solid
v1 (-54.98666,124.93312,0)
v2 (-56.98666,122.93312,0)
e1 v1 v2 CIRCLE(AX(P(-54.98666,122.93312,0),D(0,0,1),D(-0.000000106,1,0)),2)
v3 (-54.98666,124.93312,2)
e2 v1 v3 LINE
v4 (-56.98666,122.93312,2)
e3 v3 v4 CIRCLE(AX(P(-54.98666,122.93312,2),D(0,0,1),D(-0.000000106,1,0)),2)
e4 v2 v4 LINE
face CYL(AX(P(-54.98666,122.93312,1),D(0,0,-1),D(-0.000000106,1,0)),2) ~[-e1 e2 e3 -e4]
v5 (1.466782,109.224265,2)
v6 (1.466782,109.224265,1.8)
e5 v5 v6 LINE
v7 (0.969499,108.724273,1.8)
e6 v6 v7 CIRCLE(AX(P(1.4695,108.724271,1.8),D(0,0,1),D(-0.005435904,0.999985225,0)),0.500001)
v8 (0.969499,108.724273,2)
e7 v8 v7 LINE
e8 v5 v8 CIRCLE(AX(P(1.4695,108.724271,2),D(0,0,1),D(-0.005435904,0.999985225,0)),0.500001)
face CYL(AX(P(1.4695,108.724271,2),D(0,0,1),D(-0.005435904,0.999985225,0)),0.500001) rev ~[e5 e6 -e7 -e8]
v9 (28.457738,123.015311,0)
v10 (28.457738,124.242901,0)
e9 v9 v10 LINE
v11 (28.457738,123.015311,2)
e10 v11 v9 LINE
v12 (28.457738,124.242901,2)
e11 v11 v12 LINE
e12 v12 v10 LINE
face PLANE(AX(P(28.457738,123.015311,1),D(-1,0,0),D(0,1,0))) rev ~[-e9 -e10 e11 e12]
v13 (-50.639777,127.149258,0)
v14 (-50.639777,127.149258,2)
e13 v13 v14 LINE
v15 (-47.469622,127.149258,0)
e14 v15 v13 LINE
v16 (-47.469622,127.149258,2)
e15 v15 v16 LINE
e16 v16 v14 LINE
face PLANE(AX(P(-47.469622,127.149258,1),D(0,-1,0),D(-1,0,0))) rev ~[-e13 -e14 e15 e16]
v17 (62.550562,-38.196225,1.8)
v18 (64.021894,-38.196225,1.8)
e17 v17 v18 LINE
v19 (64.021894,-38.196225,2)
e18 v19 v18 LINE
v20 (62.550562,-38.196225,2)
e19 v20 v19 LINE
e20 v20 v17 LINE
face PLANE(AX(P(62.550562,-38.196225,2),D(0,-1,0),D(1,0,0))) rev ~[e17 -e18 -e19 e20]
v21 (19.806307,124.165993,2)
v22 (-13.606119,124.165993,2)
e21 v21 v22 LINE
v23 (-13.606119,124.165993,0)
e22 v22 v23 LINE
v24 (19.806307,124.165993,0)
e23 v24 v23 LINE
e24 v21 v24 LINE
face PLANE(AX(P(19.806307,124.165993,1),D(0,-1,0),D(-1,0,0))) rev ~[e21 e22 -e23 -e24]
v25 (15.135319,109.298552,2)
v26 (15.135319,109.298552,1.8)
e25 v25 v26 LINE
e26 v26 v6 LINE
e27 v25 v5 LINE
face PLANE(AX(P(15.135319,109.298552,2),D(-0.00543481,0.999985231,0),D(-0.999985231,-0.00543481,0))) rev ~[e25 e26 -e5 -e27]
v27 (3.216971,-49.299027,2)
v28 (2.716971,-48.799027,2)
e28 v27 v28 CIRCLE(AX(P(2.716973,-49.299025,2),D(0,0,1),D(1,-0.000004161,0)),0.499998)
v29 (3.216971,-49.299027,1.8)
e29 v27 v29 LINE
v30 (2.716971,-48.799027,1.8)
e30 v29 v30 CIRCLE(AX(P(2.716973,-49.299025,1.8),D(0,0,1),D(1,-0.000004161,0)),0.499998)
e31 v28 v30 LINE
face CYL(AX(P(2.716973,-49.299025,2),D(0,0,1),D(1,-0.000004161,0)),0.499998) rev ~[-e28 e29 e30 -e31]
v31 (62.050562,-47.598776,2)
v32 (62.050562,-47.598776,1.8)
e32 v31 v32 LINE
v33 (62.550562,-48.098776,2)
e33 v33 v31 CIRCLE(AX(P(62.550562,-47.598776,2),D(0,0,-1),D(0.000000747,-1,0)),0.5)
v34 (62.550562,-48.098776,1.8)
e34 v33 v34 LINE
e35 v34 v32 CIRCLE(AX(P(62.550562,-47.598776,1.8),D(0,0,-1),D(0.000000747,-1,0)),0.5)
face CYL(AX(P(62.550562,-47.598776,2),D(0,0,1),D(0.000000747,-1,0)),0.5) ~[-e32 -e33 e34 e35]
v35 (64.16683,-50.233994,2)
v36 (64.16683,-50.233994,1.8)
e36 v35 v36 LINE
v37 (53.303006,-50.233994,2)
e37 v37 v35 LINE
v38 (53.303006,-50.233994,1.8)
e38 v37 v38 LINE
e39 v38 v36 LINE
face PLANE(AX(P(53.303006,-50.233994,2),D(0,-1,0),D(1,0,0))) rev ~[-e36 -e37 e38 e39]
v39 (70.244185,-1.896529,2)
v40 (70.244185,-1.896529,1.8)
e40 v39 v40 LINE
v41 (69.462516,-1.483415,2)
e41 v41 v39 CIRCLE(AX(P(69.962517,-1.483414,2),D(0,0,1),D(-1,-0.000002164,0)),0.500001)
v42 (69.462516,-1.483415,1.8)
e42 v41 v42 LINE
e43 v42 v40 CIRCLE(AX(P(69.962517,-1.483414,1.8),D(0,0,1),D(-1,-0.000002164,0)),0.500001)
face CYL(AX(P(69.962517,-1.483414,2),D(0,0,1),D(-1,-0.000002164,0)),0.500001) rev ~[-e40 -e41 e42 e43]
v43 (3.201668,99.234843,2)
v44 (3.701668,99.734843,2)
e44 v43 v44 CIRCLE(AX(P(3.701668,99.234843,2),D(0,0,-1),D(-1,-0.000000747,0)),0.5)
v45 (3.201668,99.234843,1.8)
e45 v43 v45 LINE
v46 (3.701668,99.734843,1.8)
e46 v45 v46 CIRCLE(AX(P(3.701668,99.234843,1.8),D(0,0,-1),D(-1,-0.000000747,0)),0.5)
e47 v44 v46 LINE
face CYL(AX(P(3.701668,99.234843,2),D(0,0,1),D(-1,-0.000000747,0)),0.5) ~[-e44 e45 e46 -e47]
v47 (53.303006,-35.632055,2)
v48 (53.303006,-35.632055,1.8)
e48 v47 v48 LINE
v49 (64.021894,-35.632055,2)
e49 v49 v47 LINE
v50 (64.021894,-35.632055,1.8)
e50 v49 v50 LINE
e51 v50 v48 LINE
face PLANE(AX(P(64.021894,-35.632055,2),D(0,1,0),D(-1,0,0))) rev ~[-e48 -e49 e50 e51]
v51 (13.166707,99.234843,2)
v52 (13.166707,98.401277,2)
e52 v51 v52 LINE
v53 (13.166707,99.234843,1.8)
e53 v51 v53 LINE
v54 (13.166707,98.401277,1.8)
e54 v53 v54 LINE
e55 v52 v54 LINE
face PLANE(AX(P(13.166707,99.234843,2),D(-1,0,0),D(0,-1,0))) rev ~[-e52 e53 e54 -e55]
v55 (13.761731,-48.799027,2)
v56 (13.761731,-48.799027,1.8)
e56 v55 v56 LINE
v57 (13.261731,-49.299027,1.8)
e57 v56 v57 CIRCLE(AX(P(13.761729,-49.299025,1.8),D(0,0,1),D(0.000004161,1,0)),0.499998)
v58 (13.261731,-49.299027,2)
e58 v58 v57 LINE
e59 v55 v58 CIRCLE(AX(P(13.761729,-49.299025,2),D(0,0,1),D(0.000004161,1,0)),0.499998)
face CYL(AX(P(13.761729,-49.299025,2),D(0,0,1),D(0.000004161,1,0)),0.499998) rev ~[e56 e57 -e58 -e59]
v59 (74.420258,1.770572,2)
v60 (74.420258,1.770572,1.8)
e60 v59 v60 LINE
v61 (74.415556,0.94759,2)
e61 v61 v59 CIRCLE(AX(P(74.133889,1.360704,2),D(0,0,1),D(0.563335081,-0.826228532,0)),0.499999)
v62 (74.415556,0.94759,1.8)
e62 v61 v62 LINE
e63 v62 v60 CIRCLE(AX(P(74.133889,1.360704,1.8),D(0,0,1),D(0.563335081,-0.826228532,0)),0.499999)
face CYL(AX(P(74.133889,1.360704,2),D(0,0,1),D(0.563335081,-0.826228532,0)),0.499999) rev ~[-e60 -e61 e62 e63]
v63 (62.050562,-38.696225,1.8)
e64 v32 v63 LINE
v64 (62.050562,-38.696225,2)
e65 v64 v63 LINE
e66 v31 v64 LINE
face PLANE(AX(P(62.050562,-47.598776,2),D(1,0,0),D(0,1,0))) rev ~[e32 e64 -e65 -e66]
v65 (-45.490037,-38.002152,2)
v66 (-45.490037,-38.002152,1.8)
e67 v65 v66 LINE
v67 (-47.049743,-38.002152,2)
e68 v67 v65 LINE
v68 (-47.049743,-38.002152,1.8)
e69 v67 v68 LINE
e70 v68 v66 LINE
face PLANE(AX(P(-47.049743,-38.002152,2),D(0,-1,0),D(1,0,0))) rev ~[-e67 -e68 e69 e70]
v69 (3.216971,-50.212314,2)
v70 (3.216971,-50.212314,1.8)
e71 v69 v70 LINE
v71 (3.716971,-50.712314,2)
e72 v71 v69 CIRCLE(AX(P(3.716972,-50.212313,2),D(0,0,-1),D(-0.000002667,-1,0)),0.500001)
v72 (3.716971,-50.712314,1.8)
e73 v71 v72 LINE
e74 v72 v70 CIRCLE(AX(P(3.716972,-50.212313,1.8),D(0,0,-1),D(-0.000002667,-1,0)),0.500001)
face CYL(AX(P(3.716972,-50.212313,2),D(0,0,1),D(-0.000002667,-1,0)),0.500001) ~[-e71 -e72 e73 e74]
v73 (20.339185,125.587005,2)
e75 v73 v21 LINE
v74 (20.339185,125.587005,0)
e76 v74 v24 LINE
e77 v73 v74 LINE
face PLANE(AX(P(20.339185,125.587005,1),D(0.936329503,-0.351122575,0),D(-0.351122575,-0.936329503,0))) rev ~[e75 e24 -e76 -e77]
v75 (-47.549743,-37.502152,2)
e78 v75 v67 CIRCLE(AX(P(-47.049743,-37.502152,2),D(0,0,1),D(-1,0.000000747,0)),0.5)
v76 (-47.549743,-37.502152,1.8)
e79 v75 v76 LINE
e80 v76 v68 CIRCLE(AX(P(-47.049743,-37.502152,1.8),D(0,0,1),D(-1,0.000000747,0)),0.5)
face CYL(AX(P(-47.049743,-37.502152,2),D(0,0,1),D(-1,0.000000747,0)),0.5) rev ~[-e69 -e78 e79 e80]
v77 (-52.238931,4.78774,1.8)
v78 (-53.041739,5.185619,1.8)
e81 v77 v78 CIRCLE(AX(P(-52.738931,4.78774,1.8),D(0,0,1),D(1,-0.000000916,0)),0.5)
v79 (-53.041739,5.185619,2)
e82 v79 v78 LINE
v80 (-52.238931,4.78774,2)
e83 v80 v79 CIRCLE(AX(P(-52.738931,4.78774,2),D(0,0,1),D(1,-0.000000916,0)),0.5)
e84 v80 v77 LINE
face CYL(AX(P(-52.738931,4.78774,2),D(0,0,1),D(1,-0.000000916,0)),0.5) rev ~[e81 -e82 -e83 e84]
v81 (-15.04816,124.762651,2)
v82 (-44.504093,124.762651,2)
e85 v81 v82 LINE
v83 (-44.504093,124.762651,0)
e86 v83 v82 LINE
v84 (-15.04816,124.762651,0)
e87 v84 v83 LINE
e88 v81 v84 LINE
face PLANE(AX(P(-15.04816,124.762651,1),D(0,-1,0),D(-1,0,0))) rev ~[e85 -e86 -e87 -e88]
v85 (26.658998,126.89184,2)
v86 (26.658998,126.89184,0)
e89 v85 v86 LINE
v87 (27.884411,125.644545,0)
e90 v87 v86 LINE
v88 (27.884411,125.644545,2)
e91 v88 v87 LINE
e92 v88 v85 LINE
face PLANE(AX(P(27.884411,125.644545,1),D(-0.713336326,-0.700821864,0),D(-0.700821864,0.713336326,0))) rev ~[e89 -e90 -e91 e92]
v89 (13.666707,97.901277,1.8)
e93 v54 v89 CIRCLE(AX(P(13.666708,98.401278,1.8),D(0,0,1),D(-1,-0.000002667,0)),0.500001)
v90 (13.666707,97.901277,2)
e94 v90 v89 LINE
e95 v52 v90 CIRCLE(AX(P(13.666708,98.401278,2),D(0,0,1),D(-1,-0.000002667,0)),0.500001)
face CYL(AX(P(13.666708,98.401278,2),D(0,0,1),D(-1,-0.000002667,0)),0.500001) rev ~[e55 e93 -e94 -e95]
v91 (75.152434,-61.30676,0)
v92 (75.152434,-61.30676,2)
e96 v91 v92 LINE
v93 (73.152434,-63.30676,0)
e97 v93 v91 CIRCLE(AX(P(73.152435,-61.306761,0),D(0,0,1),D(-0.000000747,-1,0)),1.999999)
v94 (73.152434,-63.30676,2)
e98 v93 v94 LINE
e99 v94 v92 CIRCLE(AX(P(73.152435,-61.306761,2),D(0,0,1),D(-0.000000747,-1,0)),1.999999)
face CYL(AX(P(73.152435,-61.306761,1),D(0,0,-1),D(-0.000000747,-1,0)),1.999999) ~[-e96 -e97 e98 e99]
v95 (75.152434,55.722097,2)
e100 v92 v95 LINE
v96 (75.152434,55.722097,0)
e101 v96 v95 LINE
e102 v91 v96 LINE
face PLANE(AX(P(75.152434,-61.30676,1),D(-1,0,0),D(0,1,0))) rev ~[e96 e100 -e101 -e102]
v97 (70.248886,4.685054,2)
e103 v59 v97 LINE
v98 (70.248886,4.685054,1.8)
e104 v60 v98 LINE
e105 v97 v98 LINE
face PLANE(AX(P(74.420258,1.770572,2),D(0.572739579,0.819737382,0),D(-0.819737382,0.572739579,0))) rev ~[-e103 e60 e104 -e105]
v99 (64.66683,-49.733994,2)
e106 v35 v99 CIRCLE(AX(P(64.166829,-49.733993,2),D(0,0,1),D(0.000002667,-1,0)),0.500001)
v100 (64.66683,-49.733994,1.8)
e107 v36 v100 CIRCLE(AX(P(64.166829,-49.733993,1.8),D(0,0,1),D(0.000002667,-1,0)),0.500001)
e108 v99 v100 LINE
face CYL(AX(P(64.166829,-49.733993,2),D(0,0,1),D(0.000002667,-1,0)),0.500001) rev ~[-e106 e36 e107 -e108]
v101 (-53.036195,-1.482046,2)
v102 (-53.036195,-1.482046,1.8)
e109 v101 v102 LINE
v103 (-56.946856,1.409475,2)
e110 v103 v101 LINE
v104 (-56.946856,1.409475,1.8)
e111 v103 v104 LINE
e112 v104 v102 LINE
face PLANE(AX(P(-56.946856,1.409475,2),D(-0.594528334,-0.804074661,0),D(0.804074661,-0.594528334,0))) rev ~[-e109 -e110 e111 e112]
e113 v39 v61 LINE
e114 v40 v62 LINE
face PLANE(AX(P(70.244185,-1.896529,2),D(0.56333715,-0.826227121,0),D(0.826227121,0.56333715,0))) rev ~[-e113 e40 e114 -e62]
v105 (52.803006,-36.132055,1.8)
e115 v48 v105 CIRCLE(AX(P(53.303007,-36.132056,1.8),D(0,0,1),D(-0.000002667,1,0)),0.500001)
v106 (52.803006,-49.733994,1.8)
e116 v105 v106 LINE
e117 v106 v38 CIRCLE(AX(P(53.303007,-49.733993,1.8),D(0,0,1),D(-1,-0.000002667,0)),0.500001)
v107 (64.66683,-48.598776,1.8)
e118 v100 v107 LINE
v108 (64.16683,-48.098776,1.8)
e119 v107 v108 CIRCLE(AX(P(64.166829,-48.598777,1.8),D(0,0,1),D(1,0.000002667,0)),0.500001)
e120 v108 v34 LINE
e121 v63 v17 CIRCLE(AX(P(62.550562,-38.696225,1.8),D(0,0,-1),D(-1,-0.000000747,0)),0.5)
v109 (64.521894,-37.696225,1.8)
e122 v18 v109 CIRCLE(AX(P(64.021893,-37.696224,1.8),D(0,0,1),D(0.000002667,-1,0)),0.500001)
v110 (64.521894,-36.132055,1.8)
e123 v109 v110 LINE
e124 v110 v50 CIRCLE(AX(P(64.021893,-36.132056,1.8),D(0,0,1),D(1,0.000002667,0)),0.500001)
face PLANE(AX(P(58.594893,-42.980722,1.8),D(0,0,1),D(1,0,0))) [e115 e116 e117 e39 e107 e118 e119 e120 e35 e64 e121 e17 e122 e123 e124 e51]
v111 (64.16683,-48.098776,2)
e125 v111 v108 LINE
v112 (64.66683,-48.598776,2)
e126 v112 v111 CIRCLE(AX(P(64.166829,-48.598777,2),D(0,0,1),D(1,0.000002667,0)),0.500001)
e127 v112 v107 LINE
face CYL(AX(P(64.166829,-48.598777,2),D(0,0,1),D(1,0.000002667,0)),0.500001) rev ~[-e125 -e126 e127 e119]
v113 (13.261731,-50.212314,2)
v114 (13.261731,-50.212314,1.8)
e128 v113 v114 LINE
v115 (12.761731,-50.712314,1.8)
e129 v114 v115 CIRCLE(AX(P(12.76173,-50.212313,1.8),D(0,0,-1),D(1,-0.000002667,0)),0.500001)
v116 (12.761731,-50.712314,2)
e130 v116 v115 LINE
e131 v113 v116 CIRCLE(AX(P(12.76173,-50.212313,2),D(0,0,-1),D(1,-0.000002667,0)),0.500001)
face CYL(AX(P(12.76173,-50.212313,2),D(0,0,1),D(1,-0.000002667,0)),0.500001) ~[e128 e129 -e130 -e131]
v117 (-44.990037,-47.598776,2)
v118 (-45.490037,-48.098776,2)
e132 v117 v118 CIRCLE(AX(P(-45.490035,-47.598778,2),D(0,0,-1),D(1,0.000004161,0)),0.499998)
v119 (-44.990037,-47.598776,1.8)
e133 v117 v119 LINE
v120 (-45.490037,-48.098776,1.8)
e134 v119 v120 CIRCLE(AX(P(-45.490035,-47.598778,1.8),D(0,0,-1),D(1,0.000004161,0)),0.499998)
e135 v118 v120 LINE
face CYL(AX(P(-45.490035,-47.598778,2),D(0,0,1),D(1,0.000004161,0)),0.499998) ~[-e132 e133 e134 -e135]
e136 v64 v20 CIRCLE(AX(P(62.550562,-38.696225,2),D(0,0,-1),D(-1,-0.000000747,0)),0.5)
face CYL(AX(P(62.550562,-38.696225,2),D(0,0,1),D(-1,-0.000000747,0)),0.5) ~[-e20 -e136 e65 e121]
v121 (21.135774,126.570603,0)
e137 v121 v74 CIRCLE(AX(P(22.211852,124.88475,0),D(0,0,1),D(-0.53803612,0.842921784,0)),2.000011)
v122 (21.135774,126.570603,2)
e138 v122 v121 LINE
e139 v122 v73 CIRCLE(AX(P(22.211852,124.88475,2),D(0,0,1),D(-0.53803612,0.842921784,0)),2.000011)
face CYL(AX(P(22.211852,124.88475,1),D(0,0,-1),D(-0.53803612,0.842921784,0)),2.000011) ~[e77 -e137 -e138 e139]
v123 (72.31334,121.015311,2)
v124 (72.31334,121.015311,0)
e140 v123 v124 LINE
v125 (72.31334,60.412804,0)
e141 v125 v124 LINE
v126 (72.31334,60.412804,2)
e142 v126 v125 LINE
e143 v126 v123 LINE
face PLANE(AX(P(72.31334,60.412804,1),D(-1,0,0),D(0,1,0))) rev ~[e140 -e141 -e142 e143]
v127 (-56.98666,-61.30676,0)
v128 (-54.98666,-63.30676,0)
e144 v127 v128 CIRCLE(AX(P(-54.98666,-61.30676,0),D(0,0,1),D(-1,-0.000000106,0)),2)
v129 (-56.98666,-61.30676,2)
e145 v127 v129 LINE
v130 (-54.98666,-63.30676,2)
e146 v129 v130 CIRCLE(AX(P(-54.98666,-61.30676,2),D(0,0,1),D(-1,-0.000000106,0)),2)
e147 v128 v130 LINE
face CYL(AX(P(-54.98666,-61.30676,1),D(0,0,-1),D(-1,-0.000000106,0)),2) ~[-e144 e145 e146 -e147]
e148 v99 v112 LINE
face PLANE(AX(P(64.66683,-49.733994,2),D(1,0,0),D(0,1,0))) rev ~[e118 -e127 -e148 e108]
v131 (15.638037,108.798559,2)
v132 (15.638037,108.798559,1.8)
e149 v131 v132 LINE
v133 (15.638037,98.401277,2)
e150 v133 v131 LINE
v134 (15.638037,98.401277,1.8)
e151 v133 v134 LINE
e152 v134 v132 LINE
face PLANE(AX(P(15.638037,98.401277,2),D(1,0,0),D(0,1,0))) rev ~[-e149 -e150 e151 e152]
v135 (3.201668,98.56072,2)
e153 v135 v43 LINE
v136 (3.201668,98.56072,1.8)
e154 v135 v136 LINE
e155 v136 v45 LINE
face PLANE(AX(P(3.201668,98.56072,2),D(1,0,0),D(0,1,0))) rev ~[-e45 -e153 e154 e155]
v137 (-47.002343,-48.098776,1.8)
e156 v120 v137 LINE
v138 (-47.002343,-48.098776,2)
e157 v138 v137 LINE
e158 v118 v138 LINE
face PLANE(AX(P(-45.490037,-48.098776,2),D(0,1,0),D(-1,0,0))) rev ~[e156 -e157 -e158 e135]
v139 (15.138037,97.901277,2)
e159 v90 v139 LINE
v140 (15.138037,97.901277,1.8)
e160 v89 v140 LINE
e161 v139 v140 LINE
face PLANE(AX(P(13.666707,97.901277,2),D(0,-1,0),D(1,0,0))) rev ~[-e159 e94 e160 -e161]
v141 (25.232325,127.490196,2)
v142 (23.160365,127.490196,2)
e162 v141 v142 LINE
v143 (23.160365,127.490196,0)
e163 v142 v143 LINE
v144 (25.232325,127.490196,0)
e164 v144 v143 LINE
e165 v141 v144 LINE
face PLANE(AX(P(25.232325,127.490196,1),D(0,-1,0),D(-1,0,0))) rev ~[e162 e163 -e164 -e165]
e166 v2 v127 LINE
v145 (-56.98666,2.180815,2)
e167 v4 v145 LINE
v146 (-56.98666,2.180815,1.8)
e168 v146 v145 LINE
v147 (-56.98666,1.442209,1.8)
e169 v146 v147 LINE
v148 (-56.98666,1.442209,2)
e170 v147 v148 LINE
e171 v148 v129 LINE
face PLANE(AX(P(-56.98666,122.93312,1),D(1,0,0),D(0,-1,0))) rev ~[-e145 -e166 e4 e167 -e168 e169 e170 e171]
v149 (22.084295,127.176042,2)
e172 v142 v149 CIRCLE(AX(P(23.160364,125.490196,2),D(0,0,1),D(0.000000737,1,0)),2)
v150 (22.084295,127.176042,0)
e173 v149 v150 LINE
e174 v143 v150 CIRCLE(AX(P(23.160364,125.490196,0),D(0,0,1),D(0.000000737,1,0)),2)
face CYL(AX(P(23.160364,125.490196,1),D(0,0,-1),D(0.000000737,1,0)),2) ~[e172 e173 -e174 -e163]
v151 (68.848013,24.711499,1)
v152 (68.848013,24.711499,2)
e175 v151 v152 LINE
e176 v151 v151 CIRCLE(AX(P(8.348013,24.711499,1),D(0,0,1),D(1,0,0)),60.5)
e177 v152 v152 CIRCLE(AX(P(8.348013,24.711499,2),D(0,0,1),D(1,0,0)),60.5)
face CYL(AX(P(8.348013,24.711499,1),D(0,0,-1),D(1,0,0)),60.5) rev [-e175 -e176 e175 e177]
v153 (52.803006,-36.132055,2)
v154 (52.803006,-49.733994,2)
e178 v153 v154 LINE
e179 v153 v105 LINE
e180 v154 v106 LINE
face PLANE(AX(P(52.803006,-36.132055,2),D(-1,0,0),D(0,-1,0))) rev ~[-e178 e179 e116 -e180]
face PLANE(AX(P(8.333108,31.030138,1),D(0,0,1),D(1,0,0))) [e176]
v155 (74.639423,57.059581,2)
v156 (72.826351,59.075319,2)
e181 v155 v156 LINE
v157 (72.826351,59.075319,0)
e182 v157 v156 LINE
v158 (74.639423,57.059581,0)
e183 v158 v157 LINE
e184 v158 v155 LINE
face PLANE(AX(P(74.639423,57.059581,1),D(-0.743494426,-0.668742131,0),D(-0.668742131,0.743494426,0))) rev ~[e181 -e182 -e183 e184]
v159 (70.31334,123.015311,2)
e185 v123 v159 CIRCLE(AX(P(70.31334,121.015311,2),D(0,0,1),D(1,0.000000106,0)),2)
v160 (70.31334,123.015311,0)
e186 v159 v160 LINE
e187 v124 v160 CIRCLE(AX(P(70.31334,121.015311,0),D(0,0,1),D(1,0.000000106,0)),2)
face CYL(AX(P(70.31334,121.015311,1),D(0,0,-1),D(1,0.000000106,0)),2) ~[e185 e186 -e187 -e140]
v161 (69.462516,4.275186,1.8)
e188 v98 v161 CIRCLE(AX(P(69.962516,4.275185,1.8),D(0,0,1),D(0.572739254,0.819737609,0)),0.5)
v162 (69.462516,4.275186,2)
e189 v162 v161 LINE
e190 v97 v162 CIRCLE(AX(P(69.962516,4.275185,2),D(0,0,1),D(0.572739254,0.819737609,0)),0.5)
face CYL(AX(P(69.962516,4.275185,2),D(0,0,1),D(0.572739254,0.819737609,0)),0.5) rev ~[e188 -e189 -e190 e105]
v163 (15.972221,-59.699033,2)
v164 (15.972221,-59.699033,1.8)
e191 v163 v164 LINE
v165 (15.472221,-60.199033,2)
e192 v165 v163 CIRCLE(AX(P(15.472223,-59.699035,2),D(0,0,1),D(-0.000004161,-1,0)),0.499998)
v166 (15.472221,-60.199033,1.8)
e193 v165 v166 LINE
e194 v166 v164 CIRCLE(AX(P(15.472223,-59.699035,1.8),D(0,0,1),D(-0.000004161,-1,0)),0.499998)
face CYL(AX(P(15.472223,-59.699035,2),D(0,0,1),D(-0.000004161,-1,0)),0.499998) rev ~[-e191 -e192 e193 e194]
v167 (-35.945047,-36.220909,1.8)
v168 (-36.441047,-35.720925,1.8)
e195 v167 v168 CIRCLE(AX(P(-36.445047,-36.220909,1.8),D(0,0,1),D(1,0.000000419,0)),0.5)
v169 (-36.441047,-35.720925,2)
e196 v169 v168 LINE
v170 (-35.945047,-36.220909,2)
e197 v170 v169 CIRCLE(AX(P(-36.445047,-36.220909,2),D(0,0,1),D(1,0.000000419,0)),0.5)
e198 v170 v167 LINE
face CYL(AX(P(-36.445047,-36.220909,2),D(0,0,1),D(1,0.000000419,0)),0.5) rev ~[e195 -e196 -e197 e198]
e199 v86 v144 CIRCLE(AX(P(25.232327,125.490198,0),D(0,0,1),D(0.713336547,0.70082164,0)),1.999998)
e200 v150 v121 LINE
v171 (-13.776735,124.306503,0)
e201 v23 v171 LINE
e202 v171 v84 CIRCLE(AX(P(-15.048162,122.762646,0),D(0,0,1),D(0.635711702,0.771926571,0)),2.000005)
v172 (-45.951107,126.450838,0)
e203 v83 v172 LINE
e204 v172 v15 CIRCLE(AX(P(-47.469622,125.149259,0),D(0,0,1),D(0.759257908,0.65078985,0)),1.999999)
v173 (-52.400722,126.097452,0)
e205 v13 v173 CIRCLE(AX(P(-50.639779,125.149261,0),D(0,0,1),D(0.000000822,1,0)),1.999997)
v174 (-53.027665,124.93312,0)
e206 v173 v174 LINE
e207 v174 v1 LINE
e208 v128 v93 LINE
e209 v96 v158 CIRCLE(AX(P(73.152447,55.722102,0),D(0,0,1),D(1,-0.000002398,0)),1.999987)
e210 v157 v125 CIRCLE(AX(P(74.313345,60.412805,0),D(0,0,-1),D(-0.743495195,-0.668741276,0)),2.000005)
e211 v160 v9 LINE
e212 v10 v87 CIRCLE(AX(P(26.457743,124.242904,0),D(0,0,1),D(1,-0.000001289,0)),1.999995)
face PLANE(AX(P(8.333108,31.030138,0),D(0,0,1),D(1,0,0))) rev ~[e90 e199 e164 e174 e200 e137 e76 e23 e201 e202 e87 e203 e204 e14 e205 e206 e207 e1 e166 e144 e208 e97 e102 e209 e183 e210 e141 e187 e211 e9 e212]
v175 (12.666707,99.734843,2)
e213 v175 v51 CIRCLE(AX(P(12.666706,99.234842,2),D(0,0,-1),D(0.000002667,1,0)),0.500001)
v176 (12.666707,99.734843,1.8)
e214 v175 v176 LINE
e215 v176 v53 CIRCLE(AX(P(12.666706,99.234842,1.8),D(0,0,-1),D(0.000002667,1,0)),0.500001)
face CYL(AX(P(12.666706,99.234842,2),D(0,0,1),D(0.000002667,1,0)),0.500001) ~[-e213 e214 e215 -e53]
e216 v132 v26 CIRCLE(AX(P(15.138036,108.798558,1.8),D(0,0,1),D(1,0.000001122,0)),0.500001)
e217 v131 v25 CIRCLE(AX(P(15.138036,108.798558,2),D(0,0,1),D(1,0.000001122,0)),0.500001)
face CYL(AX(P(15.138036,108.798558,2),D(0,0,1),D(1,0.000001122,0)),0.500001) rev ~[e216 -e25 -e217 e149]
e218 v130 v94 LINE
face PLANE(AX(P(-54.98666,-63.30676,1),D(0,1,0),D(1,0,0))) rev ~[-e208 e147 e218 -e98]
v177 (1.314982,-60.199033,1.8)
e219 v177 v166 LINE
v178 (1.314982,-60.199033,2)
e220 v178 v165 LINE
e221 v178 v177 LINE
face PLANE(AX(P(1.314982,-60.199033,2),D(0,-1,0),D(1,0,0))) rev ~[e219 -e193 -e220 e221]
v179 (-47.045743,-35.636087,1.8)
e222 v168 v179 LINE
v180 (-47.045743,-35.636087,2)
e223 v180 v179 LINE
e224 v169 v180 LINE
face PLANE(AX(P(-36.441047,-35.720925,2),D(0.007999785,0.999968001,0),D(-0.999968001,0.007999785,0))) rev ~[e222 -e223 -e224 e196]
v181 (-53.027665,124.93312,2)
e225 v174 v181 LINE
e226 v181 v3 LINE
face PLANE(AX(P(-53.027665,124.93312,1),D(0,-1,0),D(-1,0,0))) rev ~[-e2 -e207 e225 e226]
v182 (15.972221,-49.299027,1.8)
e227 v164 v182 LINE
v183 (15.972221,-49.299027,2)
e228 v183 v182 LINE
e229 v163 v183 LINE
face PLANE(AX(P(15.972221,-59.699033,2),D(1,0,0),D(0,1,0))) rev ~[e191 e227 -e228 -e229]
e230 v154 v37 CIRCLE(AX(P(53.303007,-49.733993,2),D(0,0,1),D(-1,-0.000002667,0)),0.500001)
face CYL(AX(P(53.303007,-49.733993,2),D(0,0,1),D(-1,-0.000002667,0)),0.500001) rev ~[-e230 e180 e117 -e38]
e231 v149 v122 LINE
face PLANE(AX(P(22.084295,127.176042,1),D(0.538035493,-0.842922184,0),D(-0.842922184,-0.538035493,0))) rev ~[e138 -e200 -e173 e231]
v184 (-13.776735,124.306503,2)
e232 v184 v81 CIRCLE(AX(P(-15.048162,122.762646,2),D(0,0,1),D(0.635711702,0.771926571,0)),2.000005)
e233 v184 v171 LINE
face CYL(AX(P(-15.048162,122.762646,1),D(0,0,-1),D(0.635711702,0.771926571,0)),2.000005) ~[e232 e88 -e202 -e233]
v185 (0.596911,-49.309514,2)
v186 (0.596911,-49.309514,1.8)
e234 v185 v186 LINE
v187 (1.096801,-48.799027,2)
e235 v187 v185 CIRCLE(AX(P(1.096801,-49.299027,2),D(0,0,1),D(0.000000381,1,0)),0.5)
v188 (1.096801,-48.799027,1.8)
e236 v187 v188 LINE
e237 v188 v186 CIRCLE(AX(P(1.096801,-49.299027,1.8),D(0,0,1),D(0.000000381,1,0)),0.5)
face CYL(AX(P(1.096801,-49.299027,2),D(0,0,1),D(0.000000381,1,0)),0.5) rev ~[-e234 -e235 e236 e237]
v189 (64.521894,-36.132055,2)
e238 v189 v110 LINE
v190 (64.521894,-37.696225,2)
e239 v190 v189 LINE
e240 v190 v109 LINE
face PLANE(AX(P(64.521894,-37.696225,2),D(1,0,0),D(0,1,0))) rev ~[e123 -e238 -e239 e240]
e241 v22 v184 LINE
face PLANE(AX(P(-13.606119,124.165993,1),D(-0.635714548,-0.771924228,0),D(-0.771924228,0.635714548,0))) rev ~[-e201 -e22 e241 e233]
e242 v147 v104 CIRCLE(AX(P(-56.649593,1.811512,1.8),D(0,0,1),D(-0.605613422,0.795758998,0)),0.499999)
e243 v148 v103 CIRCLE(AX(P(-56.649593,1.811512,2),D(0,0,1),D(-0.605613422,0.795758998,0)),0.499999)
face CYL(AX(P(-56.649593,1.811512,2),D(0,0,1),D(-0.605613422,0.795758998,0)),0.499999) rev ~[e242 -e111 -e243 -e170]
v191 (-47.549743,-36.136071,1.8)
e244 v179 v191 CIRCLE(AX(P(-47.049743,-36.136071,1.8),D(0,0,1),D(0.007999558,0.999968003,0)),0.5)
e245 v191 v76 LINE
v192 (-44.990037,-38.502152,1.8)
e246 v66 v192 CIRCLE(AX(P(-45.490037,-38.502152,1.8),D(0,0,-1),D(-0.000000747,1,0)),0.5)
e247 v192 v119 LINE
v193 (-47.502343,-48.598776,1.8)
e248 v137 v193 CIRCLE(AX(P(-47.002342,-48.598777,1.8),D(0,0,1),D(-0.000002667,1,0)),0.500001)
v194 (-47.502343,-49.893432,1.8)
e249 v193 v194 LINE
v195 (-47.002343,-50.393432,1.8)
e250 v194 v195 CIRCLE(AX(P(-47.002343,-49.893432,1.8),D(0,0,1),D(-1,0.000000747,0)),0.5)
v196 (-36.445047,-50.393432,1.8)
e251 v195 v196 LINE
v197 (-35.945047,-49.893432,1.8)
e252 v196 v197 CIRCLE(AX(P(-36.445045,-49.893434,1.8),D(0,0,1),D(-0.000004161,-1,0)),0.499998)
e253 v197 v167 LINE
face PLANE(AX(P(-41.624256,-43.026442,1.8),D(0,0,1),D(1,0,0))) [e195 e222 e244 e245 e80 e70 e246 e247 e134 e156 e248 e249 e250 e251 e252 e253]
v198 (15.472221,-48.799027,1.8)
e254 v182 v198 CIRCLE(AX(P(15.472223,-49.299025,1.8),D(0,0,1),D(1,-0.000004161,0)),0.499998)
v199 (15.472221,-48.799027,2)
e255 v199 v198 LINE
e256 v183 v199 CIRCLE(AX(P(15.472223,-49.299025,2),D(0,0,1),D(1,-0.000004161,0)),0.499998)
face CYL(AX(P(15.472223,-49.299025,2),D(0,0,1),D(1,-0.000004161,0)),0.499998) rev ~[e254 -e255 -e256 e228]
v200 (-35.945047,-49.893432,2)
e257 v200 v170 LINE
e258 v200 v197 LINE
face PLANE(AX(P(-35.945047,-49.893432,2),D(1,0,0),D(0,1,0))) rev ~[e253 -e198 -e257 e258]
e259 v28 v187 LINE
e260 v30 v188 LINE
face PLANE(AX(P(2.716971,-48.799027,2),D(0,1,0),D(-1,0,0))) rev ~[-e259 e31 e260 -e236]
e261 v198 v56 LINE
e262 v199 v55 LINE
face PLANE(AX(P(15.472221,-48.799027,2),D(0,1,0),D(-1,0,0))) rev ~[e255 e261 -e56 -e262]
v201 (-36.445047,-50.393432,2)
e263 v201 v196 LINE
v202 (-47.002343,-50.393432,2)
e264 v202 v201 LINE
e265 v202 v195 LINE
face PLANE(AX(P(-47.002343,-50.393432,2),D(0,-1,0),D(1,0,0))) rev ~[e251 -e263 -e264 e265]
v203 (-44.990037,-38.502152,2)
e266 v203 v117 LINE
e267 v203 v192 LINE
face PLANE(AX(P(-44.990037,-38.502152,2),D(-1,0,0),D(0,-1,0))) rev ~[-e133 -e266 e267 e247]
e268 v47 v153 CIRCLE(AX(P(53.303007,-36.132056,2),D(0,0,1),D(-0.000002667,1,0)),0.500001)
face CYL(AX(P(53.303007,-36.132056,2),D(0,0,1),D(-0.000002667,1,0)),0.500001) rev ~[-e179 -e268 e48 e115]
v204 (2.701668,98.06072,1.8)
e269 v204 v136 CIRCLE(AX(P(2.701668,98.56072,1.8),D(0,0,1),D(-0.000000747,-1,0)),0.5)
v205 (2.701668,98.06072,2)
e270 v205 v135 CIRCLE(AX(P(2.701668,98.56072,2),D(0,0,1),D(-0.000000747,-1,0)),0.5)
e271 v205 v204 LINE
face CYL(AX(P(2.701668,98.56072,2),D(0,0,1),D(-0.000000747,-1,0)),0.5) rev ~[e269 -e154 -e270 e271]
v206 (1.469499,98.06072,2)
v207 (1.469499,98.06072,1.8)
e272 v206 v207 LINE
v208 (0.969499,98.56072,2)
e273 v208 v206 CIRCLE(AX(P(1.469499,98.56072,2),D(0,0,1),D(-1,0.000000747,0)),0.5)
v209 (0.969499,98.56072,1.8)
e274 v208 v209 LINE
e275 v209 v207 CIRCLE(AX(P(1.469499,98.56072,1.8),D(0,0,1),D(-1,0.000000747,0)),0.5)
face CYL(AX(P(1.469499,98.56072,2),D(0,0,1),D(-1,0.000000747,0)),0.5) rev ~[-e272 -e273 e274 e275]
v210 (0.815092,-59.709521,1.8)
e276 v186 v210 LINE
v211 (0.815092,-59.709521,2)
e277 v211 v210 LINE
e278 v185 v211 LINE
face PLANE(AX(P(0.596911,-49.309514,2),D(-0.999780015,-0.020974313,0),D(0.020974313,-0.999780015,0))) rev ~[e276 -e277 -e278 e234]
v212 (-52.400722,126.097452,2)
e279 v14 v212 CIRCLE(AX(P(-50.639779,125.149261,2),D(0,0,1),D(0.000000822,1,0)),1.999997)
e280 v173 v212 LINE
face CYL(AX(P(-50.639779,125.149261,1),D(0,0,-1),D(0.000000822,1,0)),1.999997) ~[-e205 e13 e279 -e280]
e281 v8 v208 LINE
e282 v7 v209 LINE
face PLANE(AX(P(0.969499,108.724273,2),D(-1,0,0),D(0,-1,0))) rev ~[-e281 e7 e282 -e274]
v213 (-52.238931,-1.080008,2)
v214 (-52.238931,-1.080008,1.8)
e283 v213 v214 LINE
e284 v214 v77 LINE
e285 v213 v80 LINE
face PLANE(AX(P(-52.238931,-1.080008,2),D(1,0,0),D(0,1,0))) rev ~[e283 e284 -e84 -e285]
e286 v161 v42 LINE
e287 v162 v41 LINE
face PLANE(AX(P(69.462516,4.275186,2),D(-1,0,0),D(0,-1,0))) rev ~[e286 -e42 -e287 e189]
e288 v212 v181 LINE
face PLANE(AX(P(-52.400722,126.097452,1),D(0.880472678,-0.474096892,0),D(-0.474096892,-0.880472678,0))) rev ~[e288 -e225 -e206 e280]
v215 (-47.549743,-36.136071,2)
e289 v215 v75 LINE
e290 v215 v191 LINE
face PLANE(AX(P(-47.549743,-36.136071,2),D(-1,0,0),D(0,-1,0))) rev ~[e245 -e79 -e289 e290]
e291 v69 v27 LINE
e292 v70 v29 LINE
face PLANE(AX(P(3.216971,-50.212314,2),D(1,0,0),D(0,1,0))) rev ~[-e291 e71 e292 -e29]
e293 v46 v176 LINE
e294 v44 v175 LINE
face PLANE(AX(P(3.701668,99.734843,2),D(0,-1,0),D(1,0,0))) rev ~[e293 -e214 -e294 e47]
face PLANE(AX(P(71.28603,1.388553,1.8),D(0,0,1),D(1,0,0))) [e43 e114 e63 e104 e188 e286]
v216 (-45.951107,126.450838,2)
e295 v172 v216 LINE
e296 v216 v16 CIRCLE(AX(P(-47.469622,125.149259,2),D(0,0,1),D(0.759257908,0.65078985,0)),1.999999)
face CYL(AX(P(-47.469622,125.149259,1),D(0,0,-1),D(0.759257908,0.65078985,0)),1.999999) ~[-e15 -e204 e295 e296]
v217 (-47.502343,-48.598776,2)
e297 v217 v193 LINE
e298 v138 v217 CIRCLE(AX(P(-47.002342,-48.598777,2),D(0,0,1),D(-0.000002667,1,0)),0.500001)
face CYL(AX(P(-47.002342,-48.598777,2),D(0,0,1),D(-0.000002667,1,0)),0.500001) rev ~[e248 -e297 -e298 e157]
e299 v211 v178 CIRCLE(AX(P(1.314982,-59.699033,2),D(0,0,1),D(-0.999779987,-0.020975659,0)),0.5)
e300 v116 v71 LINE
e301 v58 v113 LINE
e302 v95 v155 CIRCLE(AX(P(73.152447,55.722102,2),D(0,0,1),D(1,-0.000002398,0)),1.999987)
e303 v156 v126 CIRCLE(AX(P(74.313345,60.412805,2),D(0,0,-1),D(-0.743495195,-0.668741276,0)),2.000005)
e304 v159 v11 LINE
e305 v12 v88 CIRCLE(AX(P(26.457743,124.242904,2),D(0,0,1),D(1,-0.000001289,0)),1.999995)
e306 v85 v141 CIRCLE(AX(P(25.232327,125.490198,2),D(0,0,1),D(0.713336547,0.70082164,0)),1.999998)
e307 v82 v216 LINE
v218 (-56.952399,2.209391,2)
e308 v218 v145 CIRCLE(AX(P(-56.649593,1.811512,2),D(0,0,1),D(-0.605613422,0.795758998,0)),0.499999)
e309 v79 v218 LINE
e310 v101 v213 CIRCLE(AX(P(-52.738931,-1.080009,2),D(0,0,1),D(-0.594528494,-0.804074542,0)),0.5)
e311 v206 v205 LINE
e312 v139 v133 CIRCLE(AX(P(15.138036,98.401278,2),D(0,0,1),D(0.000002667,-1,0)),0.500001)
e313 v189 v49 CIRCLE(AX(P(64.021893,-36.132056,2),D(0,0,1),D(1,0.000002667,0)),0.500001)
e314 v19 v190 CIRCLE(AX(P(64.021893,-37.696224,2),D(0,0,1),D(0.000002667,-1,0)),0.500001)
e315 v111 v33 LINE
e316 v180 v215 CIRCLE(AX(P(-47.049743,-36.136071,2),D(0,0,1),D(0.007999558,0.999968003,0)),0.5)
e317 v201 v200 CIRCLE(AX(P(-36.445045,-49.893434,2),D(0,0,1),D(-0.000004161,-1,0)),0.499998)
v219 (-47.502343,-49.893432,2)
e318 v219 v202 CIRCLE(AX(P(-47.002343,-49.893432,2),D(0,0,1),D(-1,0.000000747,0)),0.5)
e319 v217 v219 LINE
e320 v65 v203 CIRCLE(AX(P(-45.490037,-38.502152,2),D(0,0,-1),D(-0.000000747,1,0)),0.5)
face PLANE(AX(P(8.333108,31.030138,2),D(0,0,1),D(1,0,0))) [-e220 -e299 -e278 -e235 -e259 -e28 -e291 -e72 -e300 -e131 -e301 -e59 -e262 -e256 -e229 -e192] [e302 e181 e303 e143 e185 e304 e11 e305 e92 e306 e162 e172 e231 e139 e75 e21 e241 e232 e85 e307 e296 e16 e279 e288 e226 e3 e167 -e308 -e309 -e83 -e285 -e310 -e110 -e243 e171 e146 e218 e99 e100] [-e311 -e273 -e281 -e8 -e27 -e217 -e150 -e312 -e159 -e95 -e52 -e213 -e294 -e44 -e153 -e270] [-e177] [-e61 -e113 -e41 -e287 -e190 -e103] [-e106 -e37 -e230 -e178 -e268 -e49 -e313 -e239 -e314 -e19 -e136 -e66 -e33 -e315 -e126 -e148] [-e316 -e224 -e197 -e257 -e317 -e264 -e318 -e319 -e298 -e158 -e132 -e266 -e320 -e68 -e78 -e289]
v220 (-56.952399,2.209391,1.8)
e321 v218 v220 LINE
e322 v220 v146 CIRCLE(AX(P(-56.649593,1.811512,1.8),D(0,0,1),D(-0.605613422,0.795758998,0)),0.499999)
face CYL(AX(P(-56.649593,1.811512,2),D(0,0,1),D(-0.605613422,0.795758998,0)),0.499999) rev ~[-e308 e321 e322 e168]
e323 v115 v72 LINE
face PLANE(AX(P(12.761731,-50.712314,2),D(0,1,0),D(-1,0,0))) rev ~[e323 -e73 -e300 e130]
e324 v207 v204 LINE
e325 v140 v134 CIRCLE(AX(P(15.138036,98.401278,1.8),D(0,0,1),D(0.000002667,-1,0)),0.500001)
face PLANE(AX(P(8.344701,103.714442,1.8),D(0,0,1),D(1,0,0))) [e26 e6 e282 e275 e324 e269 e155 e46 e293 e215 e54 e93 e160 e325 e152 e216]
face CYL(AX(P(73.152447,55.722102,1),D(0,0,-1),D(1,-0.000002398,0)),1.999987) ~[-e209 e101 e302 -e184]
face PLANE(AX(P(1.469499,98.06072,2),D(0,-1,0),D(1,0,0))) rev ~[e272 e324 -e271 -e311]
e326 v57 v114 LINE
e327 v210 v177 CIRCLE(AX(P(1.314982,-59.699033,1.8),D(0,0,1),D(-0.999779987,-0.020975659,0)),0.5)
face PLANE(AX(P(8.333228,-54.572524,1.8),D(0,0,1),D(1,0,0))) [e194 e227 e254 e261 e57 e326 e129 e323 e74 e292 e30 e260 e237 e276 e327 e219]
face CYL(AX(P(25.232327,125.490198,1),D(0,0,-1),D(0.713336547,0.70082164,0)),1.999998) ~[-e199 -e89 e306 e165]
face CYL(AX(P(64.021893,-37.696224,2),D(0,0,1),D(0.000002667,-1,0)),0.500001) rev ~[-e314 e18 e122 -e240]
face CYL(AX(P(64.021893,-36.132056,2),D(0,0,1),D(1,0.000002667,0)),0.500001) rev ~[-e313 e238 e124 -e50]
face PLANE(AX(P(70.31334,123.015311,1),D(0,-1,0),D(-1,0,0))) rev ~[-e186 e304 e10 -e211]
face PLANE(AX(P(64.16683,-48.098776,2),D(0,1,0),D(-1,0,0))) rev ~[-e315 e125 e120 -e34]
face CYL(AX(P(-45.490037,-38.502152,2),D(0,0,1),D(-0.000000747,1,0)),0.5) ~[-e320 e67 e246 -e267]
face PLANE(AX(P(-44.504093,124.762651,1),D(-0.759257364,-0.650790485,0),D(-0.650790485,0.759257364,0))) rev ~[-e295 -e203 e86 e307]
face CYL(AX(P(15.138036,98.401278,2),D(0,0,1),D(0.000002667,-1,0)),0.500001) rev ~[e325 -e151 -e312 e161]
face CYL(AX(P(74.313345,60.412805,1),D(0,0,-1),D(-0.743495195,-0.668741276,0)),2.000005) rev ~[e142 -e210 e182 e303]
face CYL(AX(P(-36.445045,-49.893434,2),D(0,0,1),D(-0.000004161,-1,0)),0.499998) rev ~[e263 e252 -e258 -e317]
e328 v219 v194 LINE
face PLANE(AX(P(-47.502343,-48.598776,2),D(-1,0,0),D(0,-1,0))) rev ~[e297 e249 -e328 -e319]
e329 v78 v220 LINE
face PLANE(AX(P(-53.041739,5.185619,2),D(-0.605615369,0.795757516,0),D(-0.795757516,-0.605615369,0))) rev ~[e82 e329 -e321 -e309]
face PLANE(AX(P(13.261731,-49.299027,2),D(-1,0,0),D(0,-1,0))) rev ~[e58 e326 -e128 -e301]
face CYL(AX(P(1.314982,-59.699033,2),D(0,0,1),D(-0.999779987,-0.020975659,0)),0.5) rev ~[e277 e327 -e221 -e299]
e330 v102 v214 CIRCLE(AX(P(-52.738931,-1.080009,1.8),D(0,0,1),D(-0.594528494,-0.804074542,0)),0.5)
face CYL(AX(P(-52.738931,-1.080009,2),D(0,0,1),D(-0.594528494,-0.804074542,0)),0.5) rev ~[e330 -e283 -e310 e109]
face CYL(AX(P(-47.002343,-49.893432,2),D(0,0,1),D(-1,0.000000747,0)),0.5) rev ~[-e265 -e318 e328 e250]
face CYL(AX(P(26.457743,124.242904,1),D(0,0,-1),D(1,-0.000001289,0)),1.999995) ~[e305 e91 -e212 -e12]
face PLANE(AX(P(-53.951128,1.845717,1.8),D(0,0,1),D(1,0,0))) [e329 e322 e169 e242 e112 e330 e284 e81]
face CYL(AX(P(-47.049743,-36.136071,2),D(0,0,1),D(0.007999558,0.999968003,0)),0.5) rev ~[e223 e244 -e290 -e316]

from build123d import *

# Parameters (mm, degrees)
F1_DEPTH = 1
F2_R     = 60.5
F3_DEPTH = 1
F5_DEPTH = 0.2


with BuildPart() as f1:
    # F0 (on Top) → F1 (new body)
    with BuildSketch(Plane.XY):
        with BuildLine():
            Line((-53.027665, 124.93312), (-54.98666, 124.93312))
            ThreePointArc((-54.98666, 124.93312), (-56.400873, 124.347334), (-56.98666, 122.93312))
            Line((-56.98666, 122.93312), (-56.98666, -61.30676))
            ThreePointArc((-56.98666, -61.30676), (-56.400873, -62.720974), (-54.98666, -63.30676))
            Line((-54.98666, -63.30676), (73.152434, -63.30676))
            ThreePointArc((73.152434, -63.30676), (74.566648, -62.720974), (75.152434, -61.30676))
            Line((75.152434, -61.30676), (75.152434, 55.722097))
            ThreePointArc((75.152434, 55.722097), (75.019783, 56.438345), (74.639423, 57.059581))
            Line((74.639423, 57.059581), (72.826351, 59.075319))
            ThreePointArc((72.826351, 59.075319), (72.445992, 59.696556), (72.31334, 60.412804))
            Line((72.31334, 60.412804), (72.31334, 121.015311))
            ThreePointArc((72.31334, 121.015311), (71.727554, 122.429524), (70.31334, 123.015311))
            Line((70.31334, 123.015311), (28.457738, 123.015311))
            Line((28.457738, 123.015311), (28.457738, 124.242901))
            ThreePointArc((28.457738, 124.242901), (28.308866, 125.000085), (27.884411, 125.644545))
            Line((27.884411, 125.644545), (26.658998, 126.89184))
            ThreePointArc((26.658998, 126.89184), (26.00586, 127.334551), (25.232325, 127.490196))
            Line((25.232325, 127.490196), (23.160365, 127.490196))
            ThreePointArc((23.160365, 127.490196), (22.59987, 127.410052), (22.084295, 127.176042))
            Line((22.084295, 127.176042), (21.135774, 126.570603))
            ThreePointArc((21.135774, 126.570603), (20.657619, 126.143481), (20.339185, 125.587005))
            Line((20.339185, 125.587005), (19.806307, 124.165993))
            Line((19.806307, 124.165993), (-13.606119, 124.165993))
            Line((-13.606119, 124.165993), (-13.776735, 124.306503))
            ThreePointArc((-13.776735, 124.306503), (-14.372773, 124.645163), (-15.04816, 124.762651))
            Line((-15.04816, 124.762651), (-44.504093, 124.762651))
            Line((-44.504093, 124.762651), (-45.951107, 126.450838))
            ThreePointArc((-45.951107, 126.450838), (-46.633907, 126.966283), (-47.469622, 127.149258))
            Line((-47.469622, 127.149258), (-50.639777, 127.149258))
            ThreePointArc((-50.639777, 127.149258), (-51.665353, 126.866289), (-52.400722, 126.097452))
            Line((-52.400722, 126.097452), (-53.027665, 124.93312))
        make_face()
    extrude(amount=F1_DEPTH)

    # F2 (on face) → F3 (join)
    with BuildSketch(Plane.XY.offset(1)):
        with BuildLine():
            Line((-15.04816, 124.762651), (-44.504093, 124.762651))
            Line((-44.504093, 124.762651), (-45.951107, 126.450838))
            ThreePointArc((-45.951107, 126.450838), (-46.633907, 126.966283), (-47.469622, 127.149258))
            Line((-47.469622, 127.149258), (-50.639777, 127.149258))
            ThreePointArc((-50.639777, 127.149258), (-51.665353, 126.866289), (-52.400722, 126.097452))
            Line((-52.400722, 126.097452), (-53.027665, 124.93312))
            Line((-53.027665, 124.93312), (-54.98666, 124.93312))
            ThreePointArc((-54.98666, 124.93312), (-56.400873, 124.347334), (-56.98666, 122.93312))
            Line((-56.98666, 122.93312), (-56.98666, -61.30676))
            ThreePointArc((-56.98666, -61.30676), (-56.400873, -62.720974), (-54.98666, -63.30676))
            Line((-54.98666, -63.30676), (73.152434, -63.30676))
            ThreePointArc((73.152434, -63.30676), (74.566648, -62.720974), (75.152434, -61.30676))
            Line((75.152434, -61.30676), (75.152434, 55.722097))
            ThreePointArc((75.152434, 55.722097), (75.019783, 56.438345), (74.639423, 57.059581))
            Line((74.639423, 57.059581), (72.826351, 59.075319))
            ThreePointArc((72.826351, 59.075319), (72.445992, 59.696556), (72.31334, 60.412804))
            Line((72.31334, 60.412804), (72.31334, 121.015311))
            ThreePointArc((72.31334, 121.015311), (71.727554, 122.429524), (70.31334, 123.015311))
            Line((70.31334, 123.015311), (28.457738, 123.015311))
            Line((28.457738, 123.015311), (28.457738, 124.242901))
            ThreePointArc((28.457738, 124.242901), (28.308866, 125.000085), (27.884411, 125.644545))
            Line((27.884411, 125.644545), (26.658998, 126.89184))
            ThreePointArc((26.658998, 126.89184), (26.00586, 127.334551), (25.232325, 127.490196))
            Line((25.232325, 127.490196), (23.160365, 127.490196))
            ThreePointArc((23.160365, 127.490196), (22.59987, 127.410052), (22.084295, 127.176042))
            Line((22.084295, 127.176042), (21.135774, 126.570603))
            ThreePointArc((21.135774, 126.570603), (20.657619, 126.143481), (20.339185, 125.587005))
            Line((20.339185, 125.587005), (19.806307, 124.165993))
            Line((19.806307, 124.165993), (-13.606119, 124.165993))
            Line((-13.606119, 124.165993), (-13.776735, 124.306503))
            ThreePointArc((-13.776735, 124.306503), (-14.372773, 124.645163), (-15.04816, 124.762651))
        make_face()
        with Locations((8.348013, 24.711499)):
            Circle(F2_R, mode=Mode.SUBTRACT)
    extrude(amount=F3_DEPTH)

    # F4 (on face) → F5 (cut)
    with BuildSketch(Plane.XY.offset(2)):
        with BuildLine():
            ThreePointArc((-47.045743, -35.636087), (-47.40188, -35.781107), (-47.549743, -36.136071))
            Line((-47.549743, -36.136071), (-47.549743, -37.502152))
            ThreePointArc((-47.549743, -37.502152), (-47.403297, -37.855705), (-47.049743, -38.002152))
            Line((-47.049743, -38.002152), (-45.490037, -38.002152))
            ThreePointArc((-45.490037, -38.002152), (-45.136483, -38.148599), (-44.990037, -38.502152))
            Line((-44.990037, -38.502152), (-44.990037, -47.598776))
            ThreePointArc((-44.990037, -47.598776), (-45.136483, -47.95233), (-45.490037, -48.098776))
            Line((-45.490037, -48.098776), (-47.002343, -48.098776))
            ThreePointArc((-47.002343, -48.098776), (-47.355896, -48.245223), (-47.502343, -48.598776))
            Line((-47.502343, -48.598776), (-47.502343, -49.893432))
            ThreePointArc((-47.502343, -49.893432), (-47.355896, -50.246986), (-47.002343, -50.393432))
            Line((-47.002343, -50.393432), (-36.445047, -50.393432))
            ThreePointArc((-36.445047, -50.393432), (-36.091493, -50.246986), (-35.945047, -49.893432))
            Line((-35.945047, -49.893432), (-35.945047, -36.220909))
            ThreePointArc((-35.945047, -36.220909), (-36.090082, -35.868773), (-36.441047, -35.720925))
            Line((-36.441047, -35.720925), (-47.045743, -35.636087))
        make_face()
        with BuildLine():
            Line((2.716971, -48.799027), (1.096801, -48.799027))
            ThreePointArc((1.096801, -48.799027), (0.739559, -48.949201), (0.596911, -49.309514))
            Line((0.596911, -49.309514), (0.815092, -59.709521))
            ThreePointArc((0.815092, -59.709521), (0.965156, -60.056275), (1.314982, -60.199033))
            Line((1.314982, -60.199033), (15.472221, -60.199033))
            ThreePointArc((15.472221, -60.199033), (15.825775, -60.052587), (15.972221, -59.699033))
            Line((15.972221, -59.699033), (15.972221, -49.299027))
            ThreePointArc((15.972221, -49.299027), (15.825775, -48.945473), (15.472221, -48.799027))
            Line((15.472221, -48.799027), (13.761731, -48.799027))
            ThreePointArc((13.761731, -48.799027), (13.408177, -48.945473), (13.261731, -49.299027))
            Line((13.261731, -49.299027), (13.261731, -50.212314))
            ThreePointArc((13.261731, -50.212314), (13.115284, -50.565867), (12.761731, -50.712314))
            Line((12.761731, -50.712314), (3.716971, -50.712314))
            ThreePointArc((3.716971, -50.712314), (3.363418, -50.565867), (3.216971, -50.212314))
            Line((3.216971, -50.212314), (3.216971, -49.299027))
            ThreePointArc((3.216971, -49.299027), (3.070525, -48.945473), (2.716971, -48.799027))
        make_face()
        with BuildLine():
            ThreePointArc((53.303006, -35.632055), (52.949453, -35.778502), (52.803006, -36.132055))
            Line((52.803006, -36.132055), (52.803006, -49.733994))
            ThreePointArc((52.803006, -49.733994), (52.949453, -50.087547), (53.303006, -50.233994))
            Line((53.303006, -50.233994), (64.16683, -50.233994))
            ThreePointArc((64.16683, -50.233994), (64.520383, -50.087547), (64.66683, -49.733994))
            Line((64.66683, -49.733994), (64.66683, -48.598776))
            ThreePointArc((64.66683, -48.598776), (64.520383, -48.245223), (64.16683, -48.098776))
            Line((64.16683, -48.098776), (62.550562, -48.098776))
            ThreePointArc((62.550562, -48.098776), (62.197009, -47.95233), (62.050562, -47.598776))
            Line((62.050562, -47.598776), (62.050562, -38.696225))
            ThreePointArc((62.050562, -38.696225), (62.197009, -38.342671), (62.550562, -38.196225))
            Line((62.550562, -38.196225), (64.021894, -38.196225))
            ThreePointArc((64.021894, -38.196225), (64.375447, -38.049778), (64.521894, -37.696225))
            Line((64.521894, -37.696225), (64.521894, -36.132055))
            ThreePointArc((64.521894, -36.132055), (64.375447, -35.778502), (64.021894, -35.632055))
            Line((64.021894, -35.632055), (53.303006, -35.632055))
        make_face()
        with BuildLine():
            ThreePointArc((70.248886, 4.685054), (69.731416, 4.718573), (69.462516, 4.275186))
            Line((69.462516, 4.275186), (69.462516, -1.483415))
            ThreePointArc((69.462516, -1.483415), (69.728887, -1.925475), (70.244185, -1.896529))
            Line((70.244185, -1.896529), (74.415556, 0.94759))
            ThreePointArc((74.415556, 0.94759), (74.63388, 1.357847), (74.420258, 1.770572))
            Line((74.420258, 1.770572), (70.248886, 4.685054))
        make_face()
        with BuildLine():
            Line((-53.041739, 5.185619), (-56.952399, 2.209391))
            ThreePointArc((-56.952399, 2.209391), (-57.14958, 1.808048), (-56.946856, 1.409475))
            Line((-56.946856, 1.409475), (-53.036195, -1.482046))
            ThreePointArc((-53.036195, -1.482046), (-52.5138, -1.526457), (-52.238931, -1.080008))
            Line((-52.238931, -1.080008), (-52.238931, 4.78774))
            ThreePointArc((-52.238931, 4.78774), (-52.516899, 5.235738), (-53.041739, 5.185619))
        make_face()
        with BuildLine():
            ThreePointArc((1.466782, 109.224265), (1.114987, 109.076864), (0.969499, 108.724273))
            Line((0.969499, 108.724273), (0.969499, 98.56072))
            ThreePointArc((0.969499, 98.56072), (1.115946, 98.207166), (1.469499, 98.06072))
            Line((1.469499, 98.06072), (2.701668, 98.06072))
            ThreePointArc((2.701668, 98.06072), (3.055221, 98.207166), (3.201668, 98.56072))
            Line((3.201668, 98.56072), (3.201668, 99.234843))
            ThreePointArc((3.201668, 99.234843), (3.348114, 99.588396), (3.701668, 99.734843))
            Line((3.701668, 99.734843), (12.666707, 99.734843))
            ThreePointArc((12.666707, 99.734843), (13.02026, 99.588396), (13.166707, 99.234843))
            Line((13.166707, 99.234843), (13.166707, 98.401277))
            ThreePointArc((13.166707, 98.401277), (13.313154, 98.047724), (13.666707, 97.901277))
            Line((13.666707, 97.901277), (15.138037, 97.901277))
            ThreePointArc((15.138037, 97.901277), (15.49159, 98.047724), (15.638037, 98.401277))
            Line((15.638037, 98.401277), (15.638037, 108.798559))
            ThreePointArc((15.638037, 108.798559), (15.490628, 109.153072), (15.135319, 109.298552))
            Line((15.135319, 109.298552), (1.466782, 109.224265))
        make_face()
    extrude(amount=-F5_DEPTH, mode=Mode.SUBTRACT)


solid = f1.part
